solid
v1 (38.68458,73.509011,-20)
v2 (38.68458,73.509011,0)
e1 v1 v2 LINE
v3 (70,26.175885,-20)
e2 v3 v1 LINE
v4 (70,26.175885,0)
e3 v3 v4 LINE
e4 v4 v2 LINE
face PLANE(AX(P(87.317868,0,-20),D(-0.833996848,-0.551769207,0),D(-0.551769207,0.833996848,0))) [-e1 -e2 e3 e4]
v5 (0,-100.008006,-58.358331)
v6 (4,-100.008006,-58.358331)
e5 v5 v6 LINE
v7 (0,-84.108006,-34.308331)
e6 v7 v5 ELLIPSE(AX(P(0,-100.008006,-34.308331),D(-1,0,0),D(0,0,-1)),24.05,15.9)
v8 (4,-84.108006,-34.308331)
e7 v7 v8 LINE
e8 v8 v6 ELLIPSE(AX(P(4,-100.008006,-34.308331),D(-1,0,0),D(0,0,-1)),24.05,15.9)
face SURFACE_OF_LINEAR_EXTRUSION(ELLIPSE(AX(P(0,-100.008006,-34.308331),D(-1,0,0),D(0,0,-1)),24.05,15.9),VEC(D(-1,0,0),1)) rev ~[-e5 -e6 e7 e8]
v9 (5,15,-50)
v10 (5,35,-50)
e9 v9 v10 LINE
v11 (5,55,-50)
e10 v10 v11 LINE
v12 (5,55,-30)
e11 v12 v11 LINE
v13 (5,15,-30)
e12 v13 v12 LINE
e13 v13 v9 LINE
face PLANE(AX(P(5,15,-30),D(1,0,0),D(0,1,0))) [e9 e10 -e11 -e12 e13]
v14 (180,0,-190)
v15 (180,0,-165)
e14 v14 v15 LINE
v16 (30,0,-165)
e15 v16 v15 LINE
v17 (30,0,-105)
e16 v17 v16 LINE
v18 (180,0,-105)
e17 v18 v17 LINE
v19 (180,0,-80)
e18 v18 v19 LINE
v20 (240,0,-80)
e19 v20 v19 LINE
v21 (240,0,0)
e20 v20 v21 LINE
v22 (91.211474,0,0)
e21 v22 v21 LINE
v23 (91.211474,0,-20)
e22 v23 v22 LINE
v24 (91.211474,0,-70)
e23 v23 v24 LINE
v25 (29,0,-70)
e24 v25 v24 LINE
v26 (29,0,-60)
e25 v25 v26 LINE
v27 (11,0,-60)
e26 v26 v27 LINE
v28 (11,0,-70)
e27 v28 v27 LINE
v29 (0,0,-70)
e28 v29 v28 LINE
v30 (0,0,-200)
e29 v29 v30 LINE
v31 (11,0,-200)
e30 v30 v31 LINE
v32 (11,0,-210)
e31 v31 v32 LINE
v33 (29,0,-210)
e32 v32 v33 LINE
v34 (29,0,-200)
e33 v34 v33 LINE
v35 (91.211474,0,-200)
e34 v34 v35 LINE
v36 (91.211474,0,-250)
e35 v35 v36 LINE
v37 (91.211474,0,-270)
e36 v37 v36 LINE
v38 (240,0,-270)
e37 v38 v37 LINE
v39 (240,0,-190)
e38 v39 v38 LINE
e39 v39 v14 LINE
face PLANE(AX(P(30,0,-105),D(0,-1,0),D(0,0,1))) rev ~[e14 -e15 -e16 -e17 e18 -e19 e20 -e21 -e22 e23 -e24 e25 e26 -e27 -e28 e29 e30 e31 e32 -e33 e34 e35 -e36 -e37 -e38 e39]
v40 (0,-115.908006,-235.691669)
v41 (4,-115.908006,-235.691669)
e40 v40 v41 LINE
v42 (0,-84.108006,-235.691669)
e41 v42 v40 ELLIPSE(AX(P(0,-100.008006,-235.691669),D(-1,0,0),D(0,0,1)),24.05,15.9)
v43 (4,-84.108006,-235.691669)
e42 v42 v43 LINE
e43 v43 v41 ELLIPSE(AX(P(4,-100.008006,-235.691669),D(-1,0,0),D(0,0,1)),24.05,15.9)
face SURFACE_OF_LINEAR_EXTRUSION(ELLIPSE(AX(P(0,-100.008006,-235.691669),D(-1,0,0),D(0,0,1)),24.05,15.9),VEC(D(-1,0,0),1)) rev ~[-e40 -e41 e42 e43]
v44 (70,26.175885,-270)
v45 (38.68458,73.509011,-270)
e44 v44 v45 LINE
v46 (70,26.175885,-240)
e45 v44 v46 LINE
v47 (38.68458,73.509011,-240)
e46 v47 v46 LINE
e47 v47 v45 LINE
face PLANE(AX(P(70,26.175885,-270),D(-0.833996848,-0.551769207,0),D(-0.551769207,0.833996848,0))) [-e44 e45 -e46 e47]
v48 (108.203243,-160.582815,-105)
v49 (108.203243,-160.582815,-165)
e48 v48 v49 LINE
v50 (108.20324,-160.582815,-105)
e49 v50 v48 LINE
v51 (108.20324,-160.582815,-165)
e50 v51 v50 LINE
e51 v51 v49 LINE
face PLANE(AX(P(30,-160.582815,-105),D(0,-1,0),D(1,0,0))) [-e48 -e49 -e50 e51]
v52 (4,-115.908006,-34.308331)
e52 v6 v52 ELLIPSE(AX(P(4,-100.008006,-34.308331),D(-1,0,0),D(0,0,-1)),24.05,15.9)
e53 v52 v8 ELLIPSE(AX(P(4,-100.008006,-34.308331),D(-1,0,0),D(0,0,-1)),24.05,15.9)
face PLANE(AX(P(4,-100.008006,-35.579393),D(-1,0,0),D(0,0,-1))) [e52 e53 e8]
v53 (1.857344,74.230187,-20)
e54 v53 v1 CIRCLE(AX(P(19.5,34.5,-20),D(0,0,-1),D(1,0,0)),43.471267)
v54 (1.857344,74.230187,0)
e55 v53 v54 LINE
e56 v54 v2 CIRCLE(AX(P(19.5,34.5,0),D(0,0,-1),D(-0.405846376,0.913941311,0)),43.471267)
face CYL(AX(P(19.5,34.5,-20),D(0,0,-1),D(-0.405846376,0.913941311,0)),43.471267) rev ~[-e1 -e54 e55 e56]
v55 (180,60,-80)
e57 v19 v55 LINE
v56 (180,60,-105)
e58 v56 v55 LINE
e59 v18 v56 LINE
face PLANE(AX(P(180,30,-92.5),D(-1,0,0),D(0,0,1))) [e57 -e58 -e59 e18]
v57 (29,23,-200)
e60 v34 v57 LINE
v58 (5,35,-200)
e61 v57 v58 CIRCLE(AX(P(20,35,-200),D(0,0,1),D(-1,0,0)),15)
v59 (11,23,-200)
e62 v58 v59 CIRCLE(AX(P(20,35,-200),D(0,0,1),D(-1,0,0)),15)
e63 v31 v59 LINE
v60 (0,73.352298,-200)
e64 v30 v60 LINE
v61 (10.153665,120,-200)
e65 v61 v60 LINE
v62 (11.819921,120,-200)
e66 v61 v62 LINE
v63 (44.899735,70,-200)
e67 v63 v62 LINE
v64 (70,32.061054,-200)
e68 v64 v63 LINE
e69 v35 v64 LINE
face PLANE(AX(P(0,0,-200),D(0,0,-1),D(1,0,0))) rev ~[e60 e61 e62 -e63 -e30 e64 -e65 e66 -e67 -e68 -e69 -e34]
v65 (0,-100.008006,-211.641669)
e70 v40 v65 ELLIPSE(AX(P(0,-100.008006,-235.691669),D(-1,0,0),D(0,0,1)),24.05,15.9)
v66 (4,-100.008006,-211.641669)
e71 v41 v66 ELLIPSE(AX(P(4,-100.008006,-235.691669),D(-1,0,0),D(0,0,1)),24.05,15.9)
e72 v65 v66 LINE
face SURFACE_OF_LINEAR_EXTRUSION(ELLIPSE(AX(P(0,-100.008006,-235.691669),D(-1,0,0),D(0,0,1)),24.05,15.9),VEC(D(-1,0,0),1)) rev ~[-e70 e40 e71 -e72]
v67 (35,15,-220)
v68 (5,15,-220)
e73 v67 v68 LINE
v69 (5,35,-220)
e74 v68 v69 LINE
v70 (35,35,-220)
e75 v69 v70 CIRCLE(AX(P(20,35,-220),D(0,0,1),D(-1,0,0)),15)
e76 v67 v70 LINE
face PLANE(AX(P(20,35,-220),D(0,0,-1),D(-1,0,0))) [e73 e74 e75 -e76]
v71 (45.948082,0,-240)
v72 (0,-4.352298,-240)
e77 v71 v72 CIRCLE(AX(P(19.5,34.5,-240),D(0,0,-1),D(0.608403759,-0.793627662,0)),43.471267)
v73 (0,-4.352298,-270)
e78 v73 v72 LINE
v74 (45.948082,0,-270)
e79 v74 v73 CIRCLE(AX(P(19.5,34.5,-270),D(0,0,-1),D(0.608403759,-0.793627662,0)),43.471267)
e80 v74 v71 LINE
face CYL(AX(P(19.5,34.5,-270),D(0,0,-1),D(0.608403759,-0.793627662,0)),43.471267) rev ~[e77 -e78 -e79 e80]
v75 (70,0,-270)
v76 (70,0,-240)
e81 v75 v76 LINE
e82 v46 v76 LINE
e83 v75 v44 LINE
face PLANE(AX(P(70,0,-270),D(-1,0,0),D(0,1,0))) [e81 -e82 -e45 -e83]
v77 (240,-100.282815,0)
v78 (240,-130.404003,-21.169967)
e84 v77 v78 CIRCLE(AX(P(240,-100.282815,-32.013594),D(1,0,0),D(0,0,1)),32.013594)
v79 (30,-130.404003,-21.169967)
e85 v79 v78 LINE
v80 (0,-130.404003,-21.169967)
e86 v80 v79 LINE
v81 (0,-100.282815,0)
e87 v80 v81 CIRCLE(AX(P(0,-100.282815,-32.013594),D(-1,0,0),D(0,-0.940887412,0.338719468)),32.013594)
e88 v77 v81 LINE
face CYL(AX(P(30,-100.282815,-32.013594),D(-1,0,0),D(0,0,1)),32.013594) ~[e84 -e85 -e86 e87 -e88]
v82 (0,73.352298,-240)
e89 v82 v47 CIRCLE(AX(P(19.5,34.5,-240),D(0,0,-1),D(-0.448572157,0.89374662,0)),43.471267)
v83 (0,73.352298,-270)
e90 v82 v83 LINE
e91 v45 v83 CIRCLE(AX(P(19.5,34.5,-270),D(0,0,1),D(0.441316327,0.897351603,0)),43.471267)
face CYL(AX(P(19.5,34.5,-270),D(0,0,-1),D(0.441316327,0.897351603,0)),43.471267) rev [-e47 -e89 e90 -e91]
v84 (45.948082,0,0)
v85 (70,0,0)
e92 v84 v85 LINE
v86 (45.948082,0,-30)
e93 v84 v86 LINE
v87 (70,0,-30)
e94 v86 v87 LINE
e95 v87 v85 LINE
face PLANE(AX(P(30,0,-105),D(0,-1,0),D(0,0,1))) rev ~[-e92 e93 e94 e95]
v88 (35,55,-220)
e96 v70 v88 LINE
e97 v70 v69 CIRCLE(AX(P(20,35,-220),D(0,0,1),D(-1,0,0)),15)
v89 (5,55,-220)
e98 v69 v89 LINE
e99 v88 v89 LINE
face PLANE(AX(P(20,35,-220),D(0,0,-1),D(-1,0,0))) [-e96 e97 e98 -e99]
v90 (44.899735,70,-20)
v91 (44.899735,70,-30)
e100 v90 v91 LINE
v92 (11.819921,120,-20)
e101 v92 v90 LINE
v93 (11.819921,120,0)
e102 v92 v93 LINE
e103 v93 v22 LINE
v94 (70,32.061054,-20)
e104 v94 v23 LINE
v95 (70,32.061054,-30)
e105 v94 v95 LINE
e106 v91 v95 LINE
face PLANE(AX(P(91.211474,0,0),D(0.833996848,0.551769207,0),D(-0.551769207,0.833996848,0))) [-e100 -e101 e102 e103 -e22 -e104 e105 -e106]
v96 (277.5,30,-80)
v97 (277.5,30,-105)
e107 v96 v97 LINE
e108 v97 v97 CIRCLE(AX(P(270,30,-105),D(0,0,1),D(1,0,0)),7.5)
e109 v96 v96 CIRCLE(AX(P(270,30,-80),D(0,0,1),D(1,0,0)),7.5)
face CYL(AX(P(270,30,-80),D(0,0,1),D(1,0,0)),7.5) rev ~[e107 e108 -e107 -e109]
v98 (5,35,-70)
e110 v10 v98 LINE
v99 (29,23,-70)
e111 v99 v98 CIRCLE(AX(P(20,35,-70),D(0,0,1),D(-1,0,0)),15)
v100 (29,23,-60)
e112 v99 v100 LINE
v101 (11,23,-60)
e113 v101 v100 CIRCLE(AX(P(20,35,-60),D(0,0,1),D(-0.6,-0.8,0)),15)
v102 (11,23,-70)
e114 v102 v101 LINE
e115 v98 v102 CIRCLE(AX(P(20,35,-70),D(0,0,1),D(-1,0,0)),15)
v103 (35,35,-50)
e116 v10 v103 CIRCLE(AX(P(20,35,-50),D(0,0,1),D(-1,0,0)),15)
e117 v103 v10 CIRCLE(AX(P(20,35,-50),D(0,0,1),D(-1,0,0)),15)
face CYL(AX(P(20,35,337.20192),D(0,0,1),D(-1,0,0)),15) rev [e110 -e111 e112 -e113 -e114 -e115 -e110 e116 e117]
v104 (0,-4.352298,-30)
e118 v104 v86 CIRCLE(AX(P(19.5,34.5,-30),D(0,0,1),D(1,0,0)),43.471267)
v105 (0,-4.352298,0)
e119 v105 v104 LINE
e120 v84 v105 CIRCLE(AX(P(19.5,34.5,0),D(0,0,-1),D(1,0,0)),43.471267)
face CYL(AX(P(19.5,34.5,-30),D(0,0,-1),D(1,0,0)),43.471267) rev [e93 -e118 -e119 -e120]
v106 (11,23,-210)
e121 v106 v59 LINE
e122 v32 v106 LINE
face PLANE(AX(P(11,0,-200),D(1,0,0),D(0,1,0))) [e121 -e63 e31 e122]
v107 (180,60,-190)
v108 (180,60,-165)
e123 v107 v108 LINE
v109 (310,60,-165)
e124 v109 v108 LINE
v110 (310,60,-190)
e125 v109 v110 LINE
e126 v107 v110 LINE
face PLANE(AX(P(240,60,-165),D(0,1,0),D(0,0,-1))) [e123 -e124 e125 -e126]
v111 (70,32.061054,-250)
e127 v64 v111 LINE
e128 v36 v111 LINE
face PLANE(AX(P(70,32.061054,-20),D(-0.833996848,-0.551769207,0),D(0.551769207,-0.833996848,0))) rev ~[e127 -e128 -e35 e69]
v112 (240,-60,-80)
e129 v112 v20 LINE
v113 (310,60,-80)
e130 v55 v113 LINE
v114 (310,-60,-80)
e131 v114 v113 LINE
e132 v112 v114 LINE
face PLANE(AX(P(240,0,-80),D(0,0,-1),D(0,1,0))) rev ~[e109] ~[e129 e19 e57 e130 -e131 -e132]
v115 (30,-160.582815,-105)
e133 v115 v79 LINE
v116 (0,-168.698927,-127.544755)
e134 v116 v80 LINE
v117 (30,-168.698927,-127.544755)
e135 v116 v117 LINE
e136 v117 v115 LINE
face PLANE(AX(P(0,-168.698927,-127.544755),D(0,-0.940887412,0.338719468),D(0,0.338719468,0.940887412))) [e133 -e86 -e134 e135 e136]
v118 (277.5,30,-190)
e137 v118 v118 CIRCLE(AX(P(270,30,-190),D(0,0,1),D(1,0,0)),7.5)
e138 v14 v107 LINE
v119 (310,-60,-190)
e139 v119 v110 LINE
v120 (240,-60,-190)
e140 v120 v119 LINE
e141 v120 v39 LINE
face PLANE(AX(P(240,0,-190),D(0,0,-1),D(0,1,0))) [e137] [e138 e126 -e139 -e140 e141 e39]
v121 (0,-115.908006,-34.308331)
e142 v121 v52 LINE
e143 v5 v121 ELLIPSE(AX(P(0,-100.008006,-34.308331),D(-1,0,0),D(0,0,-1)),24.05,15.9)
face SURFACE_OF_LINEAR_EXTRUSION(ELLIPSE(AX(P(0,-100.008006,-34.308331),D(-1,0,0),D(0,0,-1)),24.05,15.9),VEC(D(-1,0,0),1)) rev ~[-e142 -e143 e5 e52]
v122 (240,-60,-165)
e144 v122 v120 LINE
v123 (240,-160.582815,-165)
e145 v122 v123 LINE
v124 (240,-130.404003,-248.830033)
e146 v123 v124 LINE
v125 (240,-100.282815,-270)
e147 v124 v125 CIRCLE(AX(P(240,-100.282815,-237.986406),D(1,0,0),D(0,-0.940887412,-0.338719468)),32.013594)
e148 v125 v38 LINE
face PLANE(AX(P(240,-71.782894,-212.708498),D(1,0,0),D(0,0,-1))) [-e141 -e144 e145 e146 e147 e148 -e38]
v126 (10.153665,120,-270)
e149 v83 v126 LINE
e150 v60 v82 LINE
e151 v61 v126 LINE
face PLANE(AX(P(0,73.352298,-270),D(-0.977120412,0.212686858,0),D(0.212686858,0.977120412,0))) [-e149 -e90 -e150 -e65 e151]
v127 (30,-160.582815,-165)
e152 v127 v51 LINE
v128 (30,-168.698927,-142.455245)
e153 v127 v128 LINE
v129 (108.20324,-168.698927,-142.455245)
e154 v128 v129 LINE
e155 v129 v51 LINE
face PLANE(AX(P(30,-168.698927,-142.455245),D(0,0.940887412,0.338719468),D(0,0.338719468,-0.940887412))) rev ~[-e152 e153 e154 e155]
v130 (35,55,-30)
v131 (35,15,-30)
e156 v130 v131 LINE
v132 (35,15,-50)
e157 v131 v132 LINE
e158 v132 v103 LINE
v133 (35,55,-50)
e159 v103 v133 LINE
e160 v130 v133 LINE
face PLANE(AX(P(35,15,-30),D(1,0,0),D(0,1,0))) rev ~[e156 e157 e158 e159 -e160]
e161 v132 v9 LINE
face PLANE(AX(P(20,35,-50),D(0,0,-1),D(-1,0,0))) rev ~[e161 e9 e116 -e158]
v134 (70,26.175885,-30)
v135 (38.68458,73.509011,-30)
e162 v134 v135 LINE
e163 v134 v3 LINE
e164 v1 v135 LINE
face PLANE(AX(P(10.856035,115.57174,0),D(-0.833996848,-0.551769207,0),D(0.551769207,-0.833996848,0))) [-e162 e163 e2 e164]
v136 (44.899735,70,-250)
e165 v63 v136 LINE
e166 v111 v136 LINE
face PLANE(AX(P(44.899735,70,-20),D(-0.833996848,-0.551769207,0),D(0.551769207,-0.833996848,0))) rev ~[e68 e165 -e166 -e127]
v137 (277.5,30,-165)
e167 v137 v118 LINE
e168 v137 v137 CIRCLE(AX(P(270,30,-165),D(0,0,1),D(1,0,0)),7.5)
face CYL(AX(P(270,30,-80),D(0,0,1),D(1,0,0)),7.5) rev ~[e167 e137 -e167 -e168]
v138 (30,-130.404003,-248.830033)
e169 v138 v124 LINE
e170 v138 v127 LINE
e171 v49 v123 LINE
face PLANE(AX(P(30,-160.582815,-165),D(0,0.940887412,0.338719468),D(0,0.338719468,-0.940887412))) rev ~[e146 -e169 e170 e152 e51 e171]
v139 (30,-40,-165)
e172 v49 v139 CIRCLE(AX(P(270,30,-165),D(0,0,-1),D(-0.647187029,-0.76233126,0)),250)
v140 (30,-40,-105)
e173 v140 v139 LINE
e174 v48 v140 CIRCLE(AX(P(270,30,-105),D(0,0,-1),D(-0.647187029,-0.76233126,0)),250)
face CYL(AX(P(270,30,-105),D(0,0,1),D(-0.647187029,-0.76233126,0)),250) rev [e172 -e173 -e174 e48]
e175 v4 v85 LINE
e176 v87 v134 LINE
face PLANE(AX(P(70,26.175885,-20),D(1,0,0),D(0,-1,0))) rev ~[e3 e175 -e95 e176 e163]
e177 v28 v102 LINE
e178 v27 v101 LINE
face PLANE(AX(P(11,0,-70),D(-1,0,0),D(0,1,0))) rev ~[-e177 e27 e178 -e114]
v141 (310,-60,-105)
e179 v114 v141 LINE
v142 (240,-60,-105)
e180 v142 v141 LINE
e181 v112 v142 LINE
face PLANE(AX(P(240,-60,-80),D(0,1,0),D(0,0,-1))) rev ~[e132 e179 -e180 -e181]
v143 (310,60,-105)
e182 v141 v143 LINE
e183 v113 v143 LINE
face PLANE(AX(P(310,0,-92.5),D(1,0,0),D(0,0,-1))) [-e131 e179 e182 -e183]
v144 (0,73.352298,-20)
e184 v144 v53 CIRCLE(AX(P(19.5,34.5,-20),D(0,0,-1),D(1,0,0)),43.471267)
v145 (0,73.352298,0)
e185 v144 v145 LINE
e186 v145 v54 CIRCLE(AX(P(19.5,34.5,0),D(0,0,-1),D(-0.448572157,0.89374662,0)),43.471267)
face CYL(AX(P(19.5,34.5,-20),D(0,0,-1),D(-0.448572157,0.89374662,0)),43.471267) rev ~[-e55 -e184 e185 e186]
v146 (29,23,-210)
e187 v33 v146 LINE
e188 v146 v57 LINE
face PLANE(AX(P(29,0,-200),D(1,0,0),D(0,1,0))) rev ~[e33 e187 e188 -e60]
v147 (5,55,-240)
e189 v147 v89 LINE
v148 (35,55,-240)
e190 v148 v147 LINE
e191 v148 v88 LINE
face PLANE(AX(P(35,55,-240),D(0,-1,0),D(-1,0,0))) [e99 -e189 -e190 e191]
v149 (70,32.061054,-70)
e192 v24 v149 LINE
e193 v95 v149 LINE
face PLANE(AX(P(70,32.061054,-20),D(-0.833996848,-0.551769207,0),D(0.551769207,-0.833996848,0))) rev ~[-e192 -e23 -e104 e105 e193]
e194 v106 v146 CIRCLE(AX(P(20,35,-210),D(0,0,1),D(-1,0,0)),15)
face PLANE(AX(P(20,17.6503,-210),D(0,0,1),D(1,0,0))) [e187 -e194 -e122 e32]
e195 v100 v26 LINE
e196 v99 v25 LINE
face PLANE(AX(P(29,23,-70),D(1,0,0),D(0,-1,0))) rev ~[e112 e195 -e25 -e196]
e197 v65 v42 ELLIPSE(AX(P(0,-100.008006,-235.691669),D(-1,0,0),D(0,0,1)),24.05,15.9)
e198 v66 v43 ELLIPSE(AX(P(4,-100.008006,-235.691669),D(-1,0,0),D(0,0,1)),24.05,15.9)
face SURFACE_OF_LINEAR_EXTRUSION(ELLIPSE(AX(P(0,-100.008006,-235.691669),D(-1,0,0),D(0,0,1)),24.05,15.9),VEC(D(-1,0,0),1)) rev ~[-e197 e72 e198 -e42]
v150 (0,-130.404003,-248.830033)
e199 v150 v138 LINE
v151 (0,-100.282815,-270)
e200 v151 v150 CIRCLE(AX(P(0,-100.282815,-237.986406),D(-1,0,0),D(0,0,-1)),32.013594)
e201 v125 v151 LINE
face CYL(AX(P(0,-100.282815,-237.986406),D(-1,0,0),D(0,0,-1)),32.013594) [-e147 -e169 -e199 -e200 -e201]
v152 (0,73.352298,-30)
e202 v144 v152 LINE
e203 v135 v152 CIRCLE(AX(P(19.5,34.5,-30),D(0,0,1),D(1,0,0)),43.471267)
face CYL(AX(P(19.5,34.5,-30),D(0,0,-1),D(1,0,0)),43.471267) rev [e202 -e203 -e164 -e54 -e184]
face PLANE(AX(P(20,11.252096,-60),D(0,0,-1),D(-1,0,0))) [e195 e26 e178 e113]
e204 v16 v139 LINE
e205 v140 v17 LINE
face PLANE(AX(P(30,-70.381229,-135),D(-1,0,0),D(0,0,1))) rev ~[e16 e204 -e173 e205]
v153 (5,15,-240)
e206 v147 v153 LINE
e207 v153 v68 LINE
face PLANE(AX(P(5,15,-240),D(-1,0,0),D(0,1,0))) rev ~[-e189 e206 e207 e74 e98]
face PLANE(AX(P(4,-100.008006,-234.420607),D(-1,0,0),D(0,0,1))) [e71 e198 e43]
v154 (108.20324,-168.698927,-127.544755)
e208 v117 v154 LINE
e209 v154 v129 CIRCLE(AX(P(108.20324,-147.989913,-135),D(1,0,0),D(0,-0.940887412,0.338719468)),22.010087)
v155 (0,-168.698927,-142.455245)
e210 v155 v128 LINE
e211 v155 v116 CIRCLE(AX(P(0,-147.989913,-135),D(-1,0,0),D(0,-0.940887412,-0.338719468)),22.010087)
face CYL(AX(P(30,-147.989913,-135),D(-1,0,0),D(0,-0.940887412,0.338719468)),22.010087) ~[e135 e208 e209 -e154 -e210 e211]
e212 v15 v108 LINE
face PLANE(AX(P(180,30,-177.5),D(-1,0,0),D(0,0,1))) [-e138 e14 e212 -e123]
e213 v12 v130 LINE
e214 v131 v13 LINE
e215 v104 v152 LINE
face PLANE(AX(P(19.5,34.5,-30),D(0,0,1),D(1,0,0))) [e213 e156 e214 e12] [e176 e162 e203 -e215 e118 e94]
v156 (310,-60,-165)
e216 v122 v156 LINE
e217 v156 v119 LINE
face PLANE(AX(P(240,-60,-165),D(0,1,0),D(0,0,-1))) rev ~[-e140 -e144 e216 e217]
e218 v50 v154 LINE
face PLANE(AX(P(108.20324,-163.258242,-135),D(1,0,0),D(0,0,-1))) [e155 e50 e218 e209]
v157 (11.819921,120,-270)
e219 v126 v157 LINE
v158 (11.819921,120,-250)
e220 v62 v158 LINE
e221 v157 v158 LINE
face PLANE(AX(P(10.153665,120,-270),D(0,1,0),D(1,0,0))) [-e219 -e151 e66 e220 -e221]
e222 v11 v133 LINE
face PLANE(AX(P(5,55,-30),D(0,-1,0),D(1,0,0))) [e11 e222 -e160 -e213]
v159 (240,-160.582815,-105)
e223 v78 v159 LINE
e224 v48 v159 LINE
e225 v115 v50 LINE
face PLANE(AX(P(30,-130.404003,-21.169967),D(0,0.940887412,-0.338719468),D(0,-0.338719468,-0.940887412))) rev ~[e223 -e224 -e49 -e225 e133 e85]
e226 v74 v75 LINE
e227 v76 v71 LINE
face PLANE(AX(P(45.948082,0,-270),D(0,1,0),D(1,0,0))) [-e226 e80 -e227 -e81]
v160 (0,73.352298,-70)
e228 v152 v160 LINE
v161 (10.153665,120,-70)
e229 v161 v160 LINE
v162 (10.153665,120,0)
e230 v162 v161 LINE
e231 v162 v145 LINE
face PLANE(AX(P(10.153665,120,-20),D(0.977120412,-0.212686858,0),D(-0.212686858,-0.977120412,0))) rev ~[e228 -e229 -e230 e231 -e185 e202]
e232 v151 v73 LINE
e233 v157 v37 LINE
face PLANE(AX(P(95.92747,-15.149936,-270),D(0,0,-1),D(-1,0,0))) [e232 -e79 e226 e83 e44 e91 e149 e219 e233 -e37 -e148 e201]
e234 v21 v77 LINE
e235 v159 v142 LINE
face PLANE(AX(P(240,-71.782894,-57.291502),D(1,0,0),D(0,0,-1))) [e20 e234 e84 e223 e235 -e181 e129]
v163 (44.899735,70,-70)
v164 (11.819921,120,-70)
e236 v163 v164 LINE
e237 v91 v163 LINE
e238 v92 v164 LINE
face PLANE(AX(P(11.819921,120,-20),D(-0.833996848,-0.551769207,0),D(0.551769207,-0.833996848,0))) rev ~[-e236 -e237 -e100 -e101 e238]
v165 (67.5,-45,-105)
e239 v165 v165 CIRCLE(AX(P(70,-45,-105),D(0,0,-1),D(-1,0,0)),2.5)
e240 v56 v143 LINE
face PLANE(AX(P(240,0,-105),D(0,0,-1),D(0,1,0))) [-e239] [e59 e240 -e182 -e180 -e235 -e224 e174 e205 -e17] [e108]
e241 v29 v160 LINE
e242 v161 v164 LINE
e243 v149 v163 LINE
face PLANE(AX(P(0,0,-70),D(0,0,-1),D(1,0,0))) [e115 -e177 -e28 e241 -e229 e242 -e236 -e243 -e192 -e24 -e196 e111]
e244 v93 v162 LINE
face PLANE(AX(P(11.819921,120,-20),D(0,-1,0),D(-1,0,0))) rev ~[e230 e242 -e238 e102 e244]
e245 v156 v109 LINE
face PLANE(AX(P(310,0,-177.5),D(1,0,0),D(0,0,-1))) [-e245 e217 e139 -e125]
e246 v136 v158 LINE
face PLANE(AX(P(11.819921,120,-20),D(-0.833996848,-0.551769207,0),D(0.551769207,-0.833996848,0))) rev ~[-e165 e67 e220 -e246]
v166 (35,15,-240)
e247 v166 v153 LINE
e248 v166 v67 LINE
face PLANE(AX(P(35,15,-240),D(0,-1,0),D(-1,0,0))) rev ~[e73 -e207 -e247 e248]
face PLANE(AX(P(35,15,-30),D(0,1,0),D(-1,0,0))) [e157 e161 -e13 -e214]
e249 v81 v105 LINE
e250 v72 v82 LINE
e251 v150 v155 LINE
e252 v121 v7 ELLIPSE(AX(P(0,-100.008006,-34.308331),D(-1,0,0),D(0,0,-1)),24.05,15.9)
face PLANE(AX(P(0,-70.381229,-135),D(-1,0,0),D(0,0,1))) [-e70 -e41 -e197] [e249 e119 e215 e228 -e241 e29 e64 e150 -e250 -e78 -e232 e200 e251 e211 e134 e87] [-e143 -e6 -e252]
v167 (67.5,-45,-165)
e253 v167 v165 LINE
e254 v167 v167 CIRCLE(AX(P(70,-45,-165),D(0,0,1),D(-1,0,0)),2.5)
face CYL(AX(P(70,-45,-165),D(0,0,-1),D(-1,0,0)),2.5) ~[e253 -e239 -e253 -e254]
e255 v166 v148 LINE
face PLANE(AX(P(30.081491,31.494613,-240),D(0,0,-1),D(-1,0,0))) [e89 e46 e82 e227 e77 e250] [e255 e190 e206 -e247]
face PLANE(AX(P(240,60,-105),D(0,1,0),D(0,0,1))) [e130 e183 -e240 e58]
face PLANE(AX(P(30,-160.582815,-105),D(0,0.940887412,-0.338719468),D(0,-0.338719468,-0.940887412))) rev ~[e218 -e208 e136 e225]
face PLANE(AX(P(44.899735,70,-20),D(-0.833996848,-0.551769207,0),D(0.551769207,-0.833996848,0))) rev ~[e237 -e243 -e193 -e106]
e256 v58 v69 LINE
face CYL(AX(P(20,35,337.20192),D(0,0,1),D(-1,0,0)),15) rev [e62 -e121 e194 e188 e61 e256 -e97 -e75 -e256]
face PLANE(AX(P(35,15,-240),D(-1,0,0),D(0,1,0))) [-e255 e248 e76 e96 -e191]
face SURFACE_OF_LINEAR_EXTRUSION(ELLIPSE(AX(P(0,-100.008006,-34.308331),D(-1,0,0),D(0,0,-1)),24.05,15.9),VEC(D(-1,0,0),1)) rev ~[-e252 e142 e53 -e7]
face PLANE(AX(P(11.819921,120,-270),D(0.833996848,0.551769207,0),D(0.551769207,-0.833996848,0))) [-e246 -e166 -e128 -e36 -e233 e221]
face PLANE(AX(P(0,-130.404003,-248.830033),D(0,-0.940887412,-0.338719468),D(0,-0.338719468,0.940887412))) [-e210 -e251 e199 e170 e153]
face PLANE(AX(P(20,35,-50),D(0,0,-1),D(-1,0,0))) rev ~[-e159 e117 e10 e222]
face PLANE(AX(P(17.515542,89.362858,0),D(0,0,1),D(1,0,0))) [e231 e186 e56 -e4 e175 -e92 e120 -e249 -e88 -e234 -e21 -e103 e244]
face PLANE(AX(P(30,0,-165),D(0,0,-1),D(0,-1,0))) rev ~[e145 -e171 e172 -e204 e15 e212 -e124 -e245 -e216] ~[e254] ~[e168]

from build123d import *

# Parameters (mm, degrees)
EXTRUDE_1_DEPTH           = 30
EXTRUDE_2_DEPTH           = 210
SKETCH_8_W                = 25
SKETCH_8_H                = 120
EXTRUDE_5_DEPTH           = 70
SKETCH_9_W                = 25
SKETCH_9_H                = 60
EXTRUDE_6_DEPTH           = 60
SKETCH_10_R               = 7.5
CUT_EXTRUDE_3_DEPTH       = 402.372644808
EXTRUDE_7_DEPTH           = 60
EXTRUDE_8_REACH           = 392.16
SKETCH_12_R               = 2.5
SKETCH_14_W               = 125
SKETCH_14_H               = 50
EXTRUDE_9_DEPTH           = 120
SKETCH_15_W               = 70
SKETCH_15_H               = 70
CUT_EXTRUDE_4_DEPTH       = 10
CUT_EXTRUDE_5_DEPTH       = 20
SKETCH_17_R               = 43.471266984
CUT_EXTRUDE_6_DEPTH       = 428.317212384
EXTRUDE_10_DEPTH          = 20
EXTRUDE_11_DEPTH          = 20
CUT_EXTRUDE_7_DEPTH       = 434.012701892
CUT_EXTRUDE_8_DEPTH       = 434.012701892
EXTRUDE_19_REACH          = 446.86
EXTRUDE_20_DEPTH          = 20
EXTRUDE_21_DEPTH          = 20
EXTRUDE_START             = 20
EXTRUDE_22_DEPTH          = 20
CUT_EXTRUDE_9_DEPTH       = 30
CUT_EXTRUDE_11_DEPTH      = 407.201920232
CUT_EXTRUDE_11_DEPTH_BACK = 407.201920232
SKETCH_29_R               = 15
EXTRUDE_23_DEPTH          = 78.20324
SKETCH_33_W               = 30
SKETCH_33_H               = 40
CUT_EXTRUDE_14_DEPTH      = 20
SKETCH_34_W               = 18
SKETCH_34_H               = 35.300600551
CUT_EXTRUDE_15_DEPTH      = 10
CUT_EXTRUDE_16_DEPTH      = 10
SKETCH_36_RX              = 24.05
SKETCH_36_RY              = 15.9
SKETCH_36_R               = 15.9
CUT_EXTRUDE_17_DEPTH      = 4


with BuildPart() as part:
    # 草图1 → 凸台-拉伸1 (new body)
    with BuildSketch(Plane(origin=(0, 0, 0), x_dir=(0, 0, -1), z_dir=(1, 0, 0))):
        with BuildLine():
            Line((0, 0), (270, 0))
            Line((270, 0), (270, -100.282814983))
            ThreePointArc((270, -100.282814983), (264.178138298, -118.691056762), (248.830033233, -130.404003019))
            Line((248.830033233, -130.404003019), (142.45524498, -168.69892679))
            ThreePointArc((142.45524498, -168.69892679), (135, -170), (127.54475502, -168.69892679))
            Line((127.54475502, -168.69892679), (21.169966767, -130.404003019))
            ThreePointArc((21.169966767, -130.404003019), (5.821861702, -118.691056762), (0, -100.282814983))
            Line((0, -100.282814983), (0, 0))
        make_face()
    extrude(amount=EXTRUDE_1_DEPTH)

    # 草图2 → 凸台-拉伸2 (add)
    with BuildSketch(Plane(origin=(30, 0, 0), x_dir=(0, 0, -1), z_dir=(1, 0, 0))):
        with BuildLine():
            Line((105, -160.582814983), (105, 0))
            Line((105, 0), (0, 0))
            Line((0, 0), (0, -100.282814983))
            ThreePointArc((0, -100.282814983), (5.821861702, -118.691056762), (21.169966767, -130.404003019))
            Line((21.169966767, -130.404003019), (105, -160.582814983))
        make_face()
        with BuildLine():
            Line((270, 0), (165, 0))
            Line((165, 0), (165, -160.582814983))
            Line((165, -160.582814983), (248.830033233, -130.404003019))
            ThreePointArc((248.830033233, -130.404003019), (264.178138298, -118.691056762), (270, -100.282814983))
            Line((270, -100.282814983), (270, 0))
        make_face()
    extrude(amount=EXTRUDE_2_DEPTH)

    # 草图8 → 凸台-拉伸5 (add)
    with BuildSketch(Plane(origin=(240, 0, 0), x_dir=(0, 0, -1), z_dir=(1, 0, 0))):
        with Locations((92.5, 0)):
            Rectangle(SKETCH_8_W, SKETCH_8_H)
        with Locations((177.5, 0)):
            Rectangle(SKETCH_8_W, SKETCH_8_H)
    extrude(amount=EXTRUDE_5_DEPTH)

    # 草图9 → 凸台-拉伸6 (add)
    with BuildSketch(Plane.ZY.offset(-240)):
        with Locations((-92.5, 30)):
            Rectangle(SKETCH_9_W, SKETCH_9_H)
        with Locations((-177.5, 30)):
            Rectangle(SKETCH_9_W, SKETCH_9_H)
    extrude(amount=EXTRUDE_6_DEPTH)

    # 草图10 → 切除-拉伸3 (cut, through all)
    with BuildSketch(Plane.XY.offset(-80)):
        with Locations((270, 30)):
            Circle(SKETCH_10_R)
    extrude(amount=-CUT_EXTRUDE_3_DEPTH, mode=Mode.SUBTRACT)

    # 草图11 → 凸台-拉伸7 (add)
    with BuildSketch(Plane(origin=(0, 0, -105), x_dir=(-1, 0, 0), z_dir=(0, 0, -1))):
        with BuildLine():
            Line((-30, -40), (-30, -160.582814983))
            Line((-30, -160.582814983), (-108.203242822, -160.582814983))
            ThreePointArc((-108.203242822, -160.582814983), (-60.24964282, -106.032303748), (-30, -40))
        make_face()
    extrude(amount=EXTRUDE_7_DEPTH)

    # 草图12 → 凸台-拉伸8 (add, up to next)
    with BuildSketch(Plane.XY.offset(-165), mode=Mode.PRIVATE) as extrude_8_sk1:
        with Locations(Location((70, -45, 0), (0, 0, 180))):
            Circle(SKETCH_12_R)
    extrude_8_tool1 = extrude(extrude_8_sk1.sketch, amount=EXTRUDE_8_REACH, mode=Mode.PRIVATE) - part.part
    add(extrude_8_tool1.solids().sort_by_distance((70, -45, -165))[0])

    # 草图14 → 凸台-拉伸9 (add)
    with BuildSketch(Plane(origin=(0, 0, 0), x_dir=(1, 0, 0), z_dir=(0, 1, 0))):
        with Locations((62.5, 225)):
            Rectangle(SKETCH_14_W, SKETCH_14_H)
        with Locations((62.5, 45)):
            Rectangle(SKETCH_14_W, SKETCH_14_H)
    extrude(amount=EXTRUDE_9_DEPTH)

    # 草图15 → 切除-拉伸4 (cut)
    with BuildSketch(Plane.XY.offset(-20)):
        with Locations((35, 35)):
            Rectangle(SKETCH_15_W, SKETCH_15_H)
    extrude(amount=-CUT_EXTRUDE_4_DEPTH, mode=Mode.SUBTRACT)

    # 草图16 → 切除-拉伸5 (cut)
    with BuildSketch(Plane.XY.offset(-30)):
        Polygon((35, 15), (5, 15), (5, 55), (35, 55), (35, 35), align=None)
    extrude(amount=-CUT_EXTRUDE_5_DEPTH, mode=Mode.SUBTRACT)

    # 草图17 → 切除-拉伸6 (cut, through all)
    with BuildSketch(Plane.XY.offset(-30)):
        with Locations((19.5, 34.5)):
            Circle(SKETCH_17_R)
    extrude(amount=CUT_EXTRUDE_6_DEPTH, mode=Mode.SUBTRACT)

    # 草图18 → 凸台-拉伸10 (add)
    with BuildSketch(Plane.XY.offset(-20)):
        Polygon((11.819921283, 120), (91.211474189, 0), (87.317867735, 0), (10.741661946, 115.744614613), align=None)
    extrude(amount=EXTRUDE_10_DEPTH)

    # 草图19 → 凸台-拉伸11 (add)
    with BuildSketch(Plane.XY.offset(-20)):
        with BuildLine():
            Line((1.857343832, 74.230186717), (10.856035233, 115.571739869))
            Line((10.856035233, 115.571739869), (10.741661946, 115.744614613))
            Line((10.741661946, 115.744614613), (11.819921283, 120))
            Line((11.819921283, 120), (10.153664863, 120))
            Line((10.153664863, 120), (0, 73.352297914))
            ThreePointArc((0, 73.352297914), (0.923485284, 73.80221564), (1.857343832, 74.230186717))
        make_face()
    extrude(amount=EXTRUDE_11_DEPTH)

    # 草图20 → 切除-拉伸7 (cut, through all)
    with BuildSketch(Plane.XY.offset(-20)):
        Polygon((0, 120), (0, 73.352297914), (10.153664863, 120), align=None)
    extrude(amount=-CUT_EXTRUDE_7_DEPTH, mode=Mode.SUBTRACT)

    # 草图22 → 切除-拉伸8 (cut, through all)
    with BuildSketch(Plane.XY.offset(-20)):
        Polygon((44.899734993, 70), (70, 32.061054476), (91.211474189, 0), (125, 0), (125, 120), (11.819921283, 120), align=None)
    extrude(amount=-CUT_EXTRUDE_8_DEPTH, mode=Mode.SUBTRACT)

    # 草图23 → 凸台-拉伸19 (add, up to next)
    with BuildSketch(Plane.XY, mode=Mode.PRIVATE) as extrude_19_sk1:
        with BuildLine():
            Line((87.317867735, 0), (91.211474189, 0))
            Line((91.211474189, 0), (11.819921283, 120))
            Line((11.819921283, 120), (10.153664863, 120))
            Line((10.153664863, 120), (0, 73.352297914))
            ThreePointArc((0, 73.352297914), (0.923485284, 73.80221564), (1.857343832, 74.230186717))
            Line((1.857343832, 74.230186717), (10.856035233, 115.571739869))
            Line((10.856035233, 115.571739869), (87.317867735, 0))
        make_face()
    extrude_19_tool1 = extrude(extrude_19_sk1.sketch, amount=-EXTRUDE_19_REACH, mode=Mode.PRIVATE) - part.part
    add(extrude_19_tool1.solids().sort_by_distance((89.264671, 1.5073, 0))[0])

    # 草图24 → 凸台-拉伸20 (add)
    with BuildSketch(Plane.XY.offset(-20)):
        Polygon((87.317867735, 0), (70, 26.175884614), (70, 0), align=None)
    extrude(amount=EXTRUDE_20_DEPTH)

    # 草图25 → 凸台-拉伸21 (add)
    with BuildSketch(Plane.XY.offset(-20)):
        with BuildLine():
            Line((38.684579851, 73.509011127), (10.856035233, 115.571739869))
            Line((10.856035233, 115.571739869), (1.857343832, 74.230186717))
            ThreePointArc((1.857343832, 74.230186717), (20.351120273, 77.962934179), (38.684579851, 73.509011127))
        make_face()
    extrude(amount=EXTRUDE_21_DEPTH)

    # 草图26 → 凸台-拉伸22 (add)
    with BuildSketch(Plane(origin=(0, 0, -250), x_dir=(-1, 0, 0), z_dir=(0, 0, -1)).offset(EXTRUDE_START)):
        with BuildLine():
            Line((-70, 26.175884614), (-38.684579851, 73.509011127))
            ThreePointArc((-38.684579851, 73.509011127), (-19.323897117, 77.970910285), (0, 73.352297914))
            Line((0, 73.352297914), (-10.153664863, 120))
            Line((-10.153664863, 120), (-11.819921283, 120))
            Line((-11.819921283, 120), (-91.211474189, 0))
            Line((-91.211474189, 0), (-240, 0))
            Line((-240, 0), (-240, -100.282814983))
            Line((-240, -100.282814983), (0, -100.282814983))
            Line((0, -100.282814983), (0, -4.352297914))
            ThreePointArc((0, -4.352297914), (-23.599339693, -8.77755154), (-45.948082222, 0))
            Line((-45.948082222, 0), (-70, 0))
            Line((-70, 0), (-70, 26.175884614))
        make_face()
    extrude(amount=-EXTRUDE_22_DEPTH)

    # 草图27 → 切除-拉伸9 (cut)
    with BuildSketch(Plane(origin=(0, 0, -270), x_dir=(-1, 0, 0), z_dir=(0, 0, -1))):
        with BuildLine():
            Line((-38.684579851, 73.509011127), (-70, 26.175884614))
            Line((-70, 26.175884614), (-70, 0))
            Line((-70, 0), (-45.948082222, 0))
            ThreePointArc((-45.948082222, 0), (-23.599339693, -8.77755154), (0, -4.352297914))
            Line((0, -4.352297914), (0, 73.352297914))
            ThreePointArc((0, 73.352297914), (-19.323897117, 77.970910285), (-38.684579851, 73.509011127))
        make_face()
    extrude(amount=-CUT_EXTRUDE_9_DEPTH, mode=Mode.SUBTRACT)

    # 草图29 → 切除-拉伸11 (cut, two sides: drawn at the far end of the back side and taken through both)
    with BuildSketch(Plane(origin=(0, 0, -70), x_dir=(-1, 0, 0), z_dir=(0, 0, -1)).offset(-CUT_EXTRUDE_11_DEPTH_BACK)):
        with Locations((-20, 35)):
            Circle(SKETCH_29_R)
    extrude(amount=CUT_EXTRUDE_11_DEPTH + CUT_EXTRUDE_11_DEPTH_BACK, mode=Mode.SUBTRACT)

    # 草图30 → 凸台-拉伸23 (add)
    with BuildSketch(Plane(origin=(30, 0, 0), x_dir=(0, 0, -1), z_dir=(1, 0, 0))):
        with BuildLine():
            Line((142.45524498, -168.69892679), (165, -160.582814983))
            Line((165, -160.582814983), (105, -160.582814983))
            Line((105, -160.582814983), (127.54475502, -168.69892679))
            ThreePointArc((127.54475502, -168.69892679), (135, -170), (142.45524498, -168.69892679))
        make_face()
    extrude(amount=EXTRUDE_23_DEPTH)

    # 草图33 → 切除-拉伸14 (cut)
    with BuildSketch(Plane(origin=(0, 0, -240), x_dir=(-1, 0, 0), z_dir=(0, 0, -1))):
        with Locations((-20, 35)):
            Rectangle(SKETCH_33_W, SKETCH_33_H)
    extrude(amount=-CUT_EXTRUDE_14_DEPTH, mode=Mode.SUBTRACT)

    # 草图34 → 切除-拉伸15 (cut)
    with BuildSketch(Plane.XY.offset(-200)):
        with Locations((20, 17.650300276)):
            Rectangle(SKETCH_34_W, SKETCH_34_H)
    extrude(amount=-CUT_EXTRUDE_15_DEPTH, mode=Mode.SUBTRACT)

    # 草图35 → 切除-拉伸16 (cut)
    with BuildSketch(Plane(origin=(0, 0, -70), x_dir=(-1, 0, 0), z_dir=(0, 0, -1))):
        with BuildLine():
            Line((-11, 0), (-11, 23))
            ThreePointArc((-11, 23), (-20, 20), (-29, 23))
            Line((-29, 23), (-29, 0))
            Line((-29, 0), (-11, 0))
        make_face()
    extrude(amount=-CUT_EXTRUDE_16_DEPTH, mode=Mode.SUBTRACT)

    # 草图36 → 切除-拉伸17 (cut)
    # profile 1 of 6: a face of its own
    with BuildSketch(Plane.ZY):
        with Locations((-235.69166945, -100.008005659)):
            Ellipse(SKETCH_36_RX, SKETCH_36_RY)
        with Locations((-235.69166945, -100.008005659)):
            Circle(SKETCH_36_R, mode=Mode.SUBTRACT)
    # profile 2 of 6: a face of its own
    with BuildSketch(Plane.ZY):
        with Locations((-235.69166945, -100.008005659)):
            Ellipse(SKETCH_36_RX, SKETCH_36_RY)
        with Locations((-235.69166945, -100.008005659)):
            Circle(SKETCH_36_R, mode=Mode.SUBTRACT)
    # profile 3 of 6: a face of its own
    with BuildSketch(Plane.ZY):
        with Locations((-235.69166945, -100.008005659)):
            Circle(SKETCH_36_R)
    # profile 4 of 6: a face of its own
    with BuildSketch(Plane.ZY):
        with Locations(Location((-34.30833055, -100.008005659), (0, 0, 180))):
            Ellipse(SKETCH_36_RX, SKETCH_36_RY)
        with Locations((-34.30833055, -100.008005659)):
            Circle(SKETCH_36_R, mode=Mode.SUBTRACT)
    # profile 5 of 6: a face of its own
    with BuildSketch(Plane.ZY):
        with Locations(Location((-34.30833055, -100.008005659), (0, 0, 180))):
            Ellipse(SKETCH_36_RX, SKETCH_36_RY)
        with Locations((-34.30833055, -100.008005659)):
            Circle(SKETCH_36_R, mode=Mode.SUBTRACT)
    # profile 6 of 6: a face of its own
    with BuildSketch(Plane.ZY):
        with Locations((-34.30833055, -100.008005659)):
            Circle(SKETCH_36_R)
    extrude(amount=-CUT_EXTRUDE_17_DEPTH, mode=Mode.SUBTRACT)


solid = part.part
